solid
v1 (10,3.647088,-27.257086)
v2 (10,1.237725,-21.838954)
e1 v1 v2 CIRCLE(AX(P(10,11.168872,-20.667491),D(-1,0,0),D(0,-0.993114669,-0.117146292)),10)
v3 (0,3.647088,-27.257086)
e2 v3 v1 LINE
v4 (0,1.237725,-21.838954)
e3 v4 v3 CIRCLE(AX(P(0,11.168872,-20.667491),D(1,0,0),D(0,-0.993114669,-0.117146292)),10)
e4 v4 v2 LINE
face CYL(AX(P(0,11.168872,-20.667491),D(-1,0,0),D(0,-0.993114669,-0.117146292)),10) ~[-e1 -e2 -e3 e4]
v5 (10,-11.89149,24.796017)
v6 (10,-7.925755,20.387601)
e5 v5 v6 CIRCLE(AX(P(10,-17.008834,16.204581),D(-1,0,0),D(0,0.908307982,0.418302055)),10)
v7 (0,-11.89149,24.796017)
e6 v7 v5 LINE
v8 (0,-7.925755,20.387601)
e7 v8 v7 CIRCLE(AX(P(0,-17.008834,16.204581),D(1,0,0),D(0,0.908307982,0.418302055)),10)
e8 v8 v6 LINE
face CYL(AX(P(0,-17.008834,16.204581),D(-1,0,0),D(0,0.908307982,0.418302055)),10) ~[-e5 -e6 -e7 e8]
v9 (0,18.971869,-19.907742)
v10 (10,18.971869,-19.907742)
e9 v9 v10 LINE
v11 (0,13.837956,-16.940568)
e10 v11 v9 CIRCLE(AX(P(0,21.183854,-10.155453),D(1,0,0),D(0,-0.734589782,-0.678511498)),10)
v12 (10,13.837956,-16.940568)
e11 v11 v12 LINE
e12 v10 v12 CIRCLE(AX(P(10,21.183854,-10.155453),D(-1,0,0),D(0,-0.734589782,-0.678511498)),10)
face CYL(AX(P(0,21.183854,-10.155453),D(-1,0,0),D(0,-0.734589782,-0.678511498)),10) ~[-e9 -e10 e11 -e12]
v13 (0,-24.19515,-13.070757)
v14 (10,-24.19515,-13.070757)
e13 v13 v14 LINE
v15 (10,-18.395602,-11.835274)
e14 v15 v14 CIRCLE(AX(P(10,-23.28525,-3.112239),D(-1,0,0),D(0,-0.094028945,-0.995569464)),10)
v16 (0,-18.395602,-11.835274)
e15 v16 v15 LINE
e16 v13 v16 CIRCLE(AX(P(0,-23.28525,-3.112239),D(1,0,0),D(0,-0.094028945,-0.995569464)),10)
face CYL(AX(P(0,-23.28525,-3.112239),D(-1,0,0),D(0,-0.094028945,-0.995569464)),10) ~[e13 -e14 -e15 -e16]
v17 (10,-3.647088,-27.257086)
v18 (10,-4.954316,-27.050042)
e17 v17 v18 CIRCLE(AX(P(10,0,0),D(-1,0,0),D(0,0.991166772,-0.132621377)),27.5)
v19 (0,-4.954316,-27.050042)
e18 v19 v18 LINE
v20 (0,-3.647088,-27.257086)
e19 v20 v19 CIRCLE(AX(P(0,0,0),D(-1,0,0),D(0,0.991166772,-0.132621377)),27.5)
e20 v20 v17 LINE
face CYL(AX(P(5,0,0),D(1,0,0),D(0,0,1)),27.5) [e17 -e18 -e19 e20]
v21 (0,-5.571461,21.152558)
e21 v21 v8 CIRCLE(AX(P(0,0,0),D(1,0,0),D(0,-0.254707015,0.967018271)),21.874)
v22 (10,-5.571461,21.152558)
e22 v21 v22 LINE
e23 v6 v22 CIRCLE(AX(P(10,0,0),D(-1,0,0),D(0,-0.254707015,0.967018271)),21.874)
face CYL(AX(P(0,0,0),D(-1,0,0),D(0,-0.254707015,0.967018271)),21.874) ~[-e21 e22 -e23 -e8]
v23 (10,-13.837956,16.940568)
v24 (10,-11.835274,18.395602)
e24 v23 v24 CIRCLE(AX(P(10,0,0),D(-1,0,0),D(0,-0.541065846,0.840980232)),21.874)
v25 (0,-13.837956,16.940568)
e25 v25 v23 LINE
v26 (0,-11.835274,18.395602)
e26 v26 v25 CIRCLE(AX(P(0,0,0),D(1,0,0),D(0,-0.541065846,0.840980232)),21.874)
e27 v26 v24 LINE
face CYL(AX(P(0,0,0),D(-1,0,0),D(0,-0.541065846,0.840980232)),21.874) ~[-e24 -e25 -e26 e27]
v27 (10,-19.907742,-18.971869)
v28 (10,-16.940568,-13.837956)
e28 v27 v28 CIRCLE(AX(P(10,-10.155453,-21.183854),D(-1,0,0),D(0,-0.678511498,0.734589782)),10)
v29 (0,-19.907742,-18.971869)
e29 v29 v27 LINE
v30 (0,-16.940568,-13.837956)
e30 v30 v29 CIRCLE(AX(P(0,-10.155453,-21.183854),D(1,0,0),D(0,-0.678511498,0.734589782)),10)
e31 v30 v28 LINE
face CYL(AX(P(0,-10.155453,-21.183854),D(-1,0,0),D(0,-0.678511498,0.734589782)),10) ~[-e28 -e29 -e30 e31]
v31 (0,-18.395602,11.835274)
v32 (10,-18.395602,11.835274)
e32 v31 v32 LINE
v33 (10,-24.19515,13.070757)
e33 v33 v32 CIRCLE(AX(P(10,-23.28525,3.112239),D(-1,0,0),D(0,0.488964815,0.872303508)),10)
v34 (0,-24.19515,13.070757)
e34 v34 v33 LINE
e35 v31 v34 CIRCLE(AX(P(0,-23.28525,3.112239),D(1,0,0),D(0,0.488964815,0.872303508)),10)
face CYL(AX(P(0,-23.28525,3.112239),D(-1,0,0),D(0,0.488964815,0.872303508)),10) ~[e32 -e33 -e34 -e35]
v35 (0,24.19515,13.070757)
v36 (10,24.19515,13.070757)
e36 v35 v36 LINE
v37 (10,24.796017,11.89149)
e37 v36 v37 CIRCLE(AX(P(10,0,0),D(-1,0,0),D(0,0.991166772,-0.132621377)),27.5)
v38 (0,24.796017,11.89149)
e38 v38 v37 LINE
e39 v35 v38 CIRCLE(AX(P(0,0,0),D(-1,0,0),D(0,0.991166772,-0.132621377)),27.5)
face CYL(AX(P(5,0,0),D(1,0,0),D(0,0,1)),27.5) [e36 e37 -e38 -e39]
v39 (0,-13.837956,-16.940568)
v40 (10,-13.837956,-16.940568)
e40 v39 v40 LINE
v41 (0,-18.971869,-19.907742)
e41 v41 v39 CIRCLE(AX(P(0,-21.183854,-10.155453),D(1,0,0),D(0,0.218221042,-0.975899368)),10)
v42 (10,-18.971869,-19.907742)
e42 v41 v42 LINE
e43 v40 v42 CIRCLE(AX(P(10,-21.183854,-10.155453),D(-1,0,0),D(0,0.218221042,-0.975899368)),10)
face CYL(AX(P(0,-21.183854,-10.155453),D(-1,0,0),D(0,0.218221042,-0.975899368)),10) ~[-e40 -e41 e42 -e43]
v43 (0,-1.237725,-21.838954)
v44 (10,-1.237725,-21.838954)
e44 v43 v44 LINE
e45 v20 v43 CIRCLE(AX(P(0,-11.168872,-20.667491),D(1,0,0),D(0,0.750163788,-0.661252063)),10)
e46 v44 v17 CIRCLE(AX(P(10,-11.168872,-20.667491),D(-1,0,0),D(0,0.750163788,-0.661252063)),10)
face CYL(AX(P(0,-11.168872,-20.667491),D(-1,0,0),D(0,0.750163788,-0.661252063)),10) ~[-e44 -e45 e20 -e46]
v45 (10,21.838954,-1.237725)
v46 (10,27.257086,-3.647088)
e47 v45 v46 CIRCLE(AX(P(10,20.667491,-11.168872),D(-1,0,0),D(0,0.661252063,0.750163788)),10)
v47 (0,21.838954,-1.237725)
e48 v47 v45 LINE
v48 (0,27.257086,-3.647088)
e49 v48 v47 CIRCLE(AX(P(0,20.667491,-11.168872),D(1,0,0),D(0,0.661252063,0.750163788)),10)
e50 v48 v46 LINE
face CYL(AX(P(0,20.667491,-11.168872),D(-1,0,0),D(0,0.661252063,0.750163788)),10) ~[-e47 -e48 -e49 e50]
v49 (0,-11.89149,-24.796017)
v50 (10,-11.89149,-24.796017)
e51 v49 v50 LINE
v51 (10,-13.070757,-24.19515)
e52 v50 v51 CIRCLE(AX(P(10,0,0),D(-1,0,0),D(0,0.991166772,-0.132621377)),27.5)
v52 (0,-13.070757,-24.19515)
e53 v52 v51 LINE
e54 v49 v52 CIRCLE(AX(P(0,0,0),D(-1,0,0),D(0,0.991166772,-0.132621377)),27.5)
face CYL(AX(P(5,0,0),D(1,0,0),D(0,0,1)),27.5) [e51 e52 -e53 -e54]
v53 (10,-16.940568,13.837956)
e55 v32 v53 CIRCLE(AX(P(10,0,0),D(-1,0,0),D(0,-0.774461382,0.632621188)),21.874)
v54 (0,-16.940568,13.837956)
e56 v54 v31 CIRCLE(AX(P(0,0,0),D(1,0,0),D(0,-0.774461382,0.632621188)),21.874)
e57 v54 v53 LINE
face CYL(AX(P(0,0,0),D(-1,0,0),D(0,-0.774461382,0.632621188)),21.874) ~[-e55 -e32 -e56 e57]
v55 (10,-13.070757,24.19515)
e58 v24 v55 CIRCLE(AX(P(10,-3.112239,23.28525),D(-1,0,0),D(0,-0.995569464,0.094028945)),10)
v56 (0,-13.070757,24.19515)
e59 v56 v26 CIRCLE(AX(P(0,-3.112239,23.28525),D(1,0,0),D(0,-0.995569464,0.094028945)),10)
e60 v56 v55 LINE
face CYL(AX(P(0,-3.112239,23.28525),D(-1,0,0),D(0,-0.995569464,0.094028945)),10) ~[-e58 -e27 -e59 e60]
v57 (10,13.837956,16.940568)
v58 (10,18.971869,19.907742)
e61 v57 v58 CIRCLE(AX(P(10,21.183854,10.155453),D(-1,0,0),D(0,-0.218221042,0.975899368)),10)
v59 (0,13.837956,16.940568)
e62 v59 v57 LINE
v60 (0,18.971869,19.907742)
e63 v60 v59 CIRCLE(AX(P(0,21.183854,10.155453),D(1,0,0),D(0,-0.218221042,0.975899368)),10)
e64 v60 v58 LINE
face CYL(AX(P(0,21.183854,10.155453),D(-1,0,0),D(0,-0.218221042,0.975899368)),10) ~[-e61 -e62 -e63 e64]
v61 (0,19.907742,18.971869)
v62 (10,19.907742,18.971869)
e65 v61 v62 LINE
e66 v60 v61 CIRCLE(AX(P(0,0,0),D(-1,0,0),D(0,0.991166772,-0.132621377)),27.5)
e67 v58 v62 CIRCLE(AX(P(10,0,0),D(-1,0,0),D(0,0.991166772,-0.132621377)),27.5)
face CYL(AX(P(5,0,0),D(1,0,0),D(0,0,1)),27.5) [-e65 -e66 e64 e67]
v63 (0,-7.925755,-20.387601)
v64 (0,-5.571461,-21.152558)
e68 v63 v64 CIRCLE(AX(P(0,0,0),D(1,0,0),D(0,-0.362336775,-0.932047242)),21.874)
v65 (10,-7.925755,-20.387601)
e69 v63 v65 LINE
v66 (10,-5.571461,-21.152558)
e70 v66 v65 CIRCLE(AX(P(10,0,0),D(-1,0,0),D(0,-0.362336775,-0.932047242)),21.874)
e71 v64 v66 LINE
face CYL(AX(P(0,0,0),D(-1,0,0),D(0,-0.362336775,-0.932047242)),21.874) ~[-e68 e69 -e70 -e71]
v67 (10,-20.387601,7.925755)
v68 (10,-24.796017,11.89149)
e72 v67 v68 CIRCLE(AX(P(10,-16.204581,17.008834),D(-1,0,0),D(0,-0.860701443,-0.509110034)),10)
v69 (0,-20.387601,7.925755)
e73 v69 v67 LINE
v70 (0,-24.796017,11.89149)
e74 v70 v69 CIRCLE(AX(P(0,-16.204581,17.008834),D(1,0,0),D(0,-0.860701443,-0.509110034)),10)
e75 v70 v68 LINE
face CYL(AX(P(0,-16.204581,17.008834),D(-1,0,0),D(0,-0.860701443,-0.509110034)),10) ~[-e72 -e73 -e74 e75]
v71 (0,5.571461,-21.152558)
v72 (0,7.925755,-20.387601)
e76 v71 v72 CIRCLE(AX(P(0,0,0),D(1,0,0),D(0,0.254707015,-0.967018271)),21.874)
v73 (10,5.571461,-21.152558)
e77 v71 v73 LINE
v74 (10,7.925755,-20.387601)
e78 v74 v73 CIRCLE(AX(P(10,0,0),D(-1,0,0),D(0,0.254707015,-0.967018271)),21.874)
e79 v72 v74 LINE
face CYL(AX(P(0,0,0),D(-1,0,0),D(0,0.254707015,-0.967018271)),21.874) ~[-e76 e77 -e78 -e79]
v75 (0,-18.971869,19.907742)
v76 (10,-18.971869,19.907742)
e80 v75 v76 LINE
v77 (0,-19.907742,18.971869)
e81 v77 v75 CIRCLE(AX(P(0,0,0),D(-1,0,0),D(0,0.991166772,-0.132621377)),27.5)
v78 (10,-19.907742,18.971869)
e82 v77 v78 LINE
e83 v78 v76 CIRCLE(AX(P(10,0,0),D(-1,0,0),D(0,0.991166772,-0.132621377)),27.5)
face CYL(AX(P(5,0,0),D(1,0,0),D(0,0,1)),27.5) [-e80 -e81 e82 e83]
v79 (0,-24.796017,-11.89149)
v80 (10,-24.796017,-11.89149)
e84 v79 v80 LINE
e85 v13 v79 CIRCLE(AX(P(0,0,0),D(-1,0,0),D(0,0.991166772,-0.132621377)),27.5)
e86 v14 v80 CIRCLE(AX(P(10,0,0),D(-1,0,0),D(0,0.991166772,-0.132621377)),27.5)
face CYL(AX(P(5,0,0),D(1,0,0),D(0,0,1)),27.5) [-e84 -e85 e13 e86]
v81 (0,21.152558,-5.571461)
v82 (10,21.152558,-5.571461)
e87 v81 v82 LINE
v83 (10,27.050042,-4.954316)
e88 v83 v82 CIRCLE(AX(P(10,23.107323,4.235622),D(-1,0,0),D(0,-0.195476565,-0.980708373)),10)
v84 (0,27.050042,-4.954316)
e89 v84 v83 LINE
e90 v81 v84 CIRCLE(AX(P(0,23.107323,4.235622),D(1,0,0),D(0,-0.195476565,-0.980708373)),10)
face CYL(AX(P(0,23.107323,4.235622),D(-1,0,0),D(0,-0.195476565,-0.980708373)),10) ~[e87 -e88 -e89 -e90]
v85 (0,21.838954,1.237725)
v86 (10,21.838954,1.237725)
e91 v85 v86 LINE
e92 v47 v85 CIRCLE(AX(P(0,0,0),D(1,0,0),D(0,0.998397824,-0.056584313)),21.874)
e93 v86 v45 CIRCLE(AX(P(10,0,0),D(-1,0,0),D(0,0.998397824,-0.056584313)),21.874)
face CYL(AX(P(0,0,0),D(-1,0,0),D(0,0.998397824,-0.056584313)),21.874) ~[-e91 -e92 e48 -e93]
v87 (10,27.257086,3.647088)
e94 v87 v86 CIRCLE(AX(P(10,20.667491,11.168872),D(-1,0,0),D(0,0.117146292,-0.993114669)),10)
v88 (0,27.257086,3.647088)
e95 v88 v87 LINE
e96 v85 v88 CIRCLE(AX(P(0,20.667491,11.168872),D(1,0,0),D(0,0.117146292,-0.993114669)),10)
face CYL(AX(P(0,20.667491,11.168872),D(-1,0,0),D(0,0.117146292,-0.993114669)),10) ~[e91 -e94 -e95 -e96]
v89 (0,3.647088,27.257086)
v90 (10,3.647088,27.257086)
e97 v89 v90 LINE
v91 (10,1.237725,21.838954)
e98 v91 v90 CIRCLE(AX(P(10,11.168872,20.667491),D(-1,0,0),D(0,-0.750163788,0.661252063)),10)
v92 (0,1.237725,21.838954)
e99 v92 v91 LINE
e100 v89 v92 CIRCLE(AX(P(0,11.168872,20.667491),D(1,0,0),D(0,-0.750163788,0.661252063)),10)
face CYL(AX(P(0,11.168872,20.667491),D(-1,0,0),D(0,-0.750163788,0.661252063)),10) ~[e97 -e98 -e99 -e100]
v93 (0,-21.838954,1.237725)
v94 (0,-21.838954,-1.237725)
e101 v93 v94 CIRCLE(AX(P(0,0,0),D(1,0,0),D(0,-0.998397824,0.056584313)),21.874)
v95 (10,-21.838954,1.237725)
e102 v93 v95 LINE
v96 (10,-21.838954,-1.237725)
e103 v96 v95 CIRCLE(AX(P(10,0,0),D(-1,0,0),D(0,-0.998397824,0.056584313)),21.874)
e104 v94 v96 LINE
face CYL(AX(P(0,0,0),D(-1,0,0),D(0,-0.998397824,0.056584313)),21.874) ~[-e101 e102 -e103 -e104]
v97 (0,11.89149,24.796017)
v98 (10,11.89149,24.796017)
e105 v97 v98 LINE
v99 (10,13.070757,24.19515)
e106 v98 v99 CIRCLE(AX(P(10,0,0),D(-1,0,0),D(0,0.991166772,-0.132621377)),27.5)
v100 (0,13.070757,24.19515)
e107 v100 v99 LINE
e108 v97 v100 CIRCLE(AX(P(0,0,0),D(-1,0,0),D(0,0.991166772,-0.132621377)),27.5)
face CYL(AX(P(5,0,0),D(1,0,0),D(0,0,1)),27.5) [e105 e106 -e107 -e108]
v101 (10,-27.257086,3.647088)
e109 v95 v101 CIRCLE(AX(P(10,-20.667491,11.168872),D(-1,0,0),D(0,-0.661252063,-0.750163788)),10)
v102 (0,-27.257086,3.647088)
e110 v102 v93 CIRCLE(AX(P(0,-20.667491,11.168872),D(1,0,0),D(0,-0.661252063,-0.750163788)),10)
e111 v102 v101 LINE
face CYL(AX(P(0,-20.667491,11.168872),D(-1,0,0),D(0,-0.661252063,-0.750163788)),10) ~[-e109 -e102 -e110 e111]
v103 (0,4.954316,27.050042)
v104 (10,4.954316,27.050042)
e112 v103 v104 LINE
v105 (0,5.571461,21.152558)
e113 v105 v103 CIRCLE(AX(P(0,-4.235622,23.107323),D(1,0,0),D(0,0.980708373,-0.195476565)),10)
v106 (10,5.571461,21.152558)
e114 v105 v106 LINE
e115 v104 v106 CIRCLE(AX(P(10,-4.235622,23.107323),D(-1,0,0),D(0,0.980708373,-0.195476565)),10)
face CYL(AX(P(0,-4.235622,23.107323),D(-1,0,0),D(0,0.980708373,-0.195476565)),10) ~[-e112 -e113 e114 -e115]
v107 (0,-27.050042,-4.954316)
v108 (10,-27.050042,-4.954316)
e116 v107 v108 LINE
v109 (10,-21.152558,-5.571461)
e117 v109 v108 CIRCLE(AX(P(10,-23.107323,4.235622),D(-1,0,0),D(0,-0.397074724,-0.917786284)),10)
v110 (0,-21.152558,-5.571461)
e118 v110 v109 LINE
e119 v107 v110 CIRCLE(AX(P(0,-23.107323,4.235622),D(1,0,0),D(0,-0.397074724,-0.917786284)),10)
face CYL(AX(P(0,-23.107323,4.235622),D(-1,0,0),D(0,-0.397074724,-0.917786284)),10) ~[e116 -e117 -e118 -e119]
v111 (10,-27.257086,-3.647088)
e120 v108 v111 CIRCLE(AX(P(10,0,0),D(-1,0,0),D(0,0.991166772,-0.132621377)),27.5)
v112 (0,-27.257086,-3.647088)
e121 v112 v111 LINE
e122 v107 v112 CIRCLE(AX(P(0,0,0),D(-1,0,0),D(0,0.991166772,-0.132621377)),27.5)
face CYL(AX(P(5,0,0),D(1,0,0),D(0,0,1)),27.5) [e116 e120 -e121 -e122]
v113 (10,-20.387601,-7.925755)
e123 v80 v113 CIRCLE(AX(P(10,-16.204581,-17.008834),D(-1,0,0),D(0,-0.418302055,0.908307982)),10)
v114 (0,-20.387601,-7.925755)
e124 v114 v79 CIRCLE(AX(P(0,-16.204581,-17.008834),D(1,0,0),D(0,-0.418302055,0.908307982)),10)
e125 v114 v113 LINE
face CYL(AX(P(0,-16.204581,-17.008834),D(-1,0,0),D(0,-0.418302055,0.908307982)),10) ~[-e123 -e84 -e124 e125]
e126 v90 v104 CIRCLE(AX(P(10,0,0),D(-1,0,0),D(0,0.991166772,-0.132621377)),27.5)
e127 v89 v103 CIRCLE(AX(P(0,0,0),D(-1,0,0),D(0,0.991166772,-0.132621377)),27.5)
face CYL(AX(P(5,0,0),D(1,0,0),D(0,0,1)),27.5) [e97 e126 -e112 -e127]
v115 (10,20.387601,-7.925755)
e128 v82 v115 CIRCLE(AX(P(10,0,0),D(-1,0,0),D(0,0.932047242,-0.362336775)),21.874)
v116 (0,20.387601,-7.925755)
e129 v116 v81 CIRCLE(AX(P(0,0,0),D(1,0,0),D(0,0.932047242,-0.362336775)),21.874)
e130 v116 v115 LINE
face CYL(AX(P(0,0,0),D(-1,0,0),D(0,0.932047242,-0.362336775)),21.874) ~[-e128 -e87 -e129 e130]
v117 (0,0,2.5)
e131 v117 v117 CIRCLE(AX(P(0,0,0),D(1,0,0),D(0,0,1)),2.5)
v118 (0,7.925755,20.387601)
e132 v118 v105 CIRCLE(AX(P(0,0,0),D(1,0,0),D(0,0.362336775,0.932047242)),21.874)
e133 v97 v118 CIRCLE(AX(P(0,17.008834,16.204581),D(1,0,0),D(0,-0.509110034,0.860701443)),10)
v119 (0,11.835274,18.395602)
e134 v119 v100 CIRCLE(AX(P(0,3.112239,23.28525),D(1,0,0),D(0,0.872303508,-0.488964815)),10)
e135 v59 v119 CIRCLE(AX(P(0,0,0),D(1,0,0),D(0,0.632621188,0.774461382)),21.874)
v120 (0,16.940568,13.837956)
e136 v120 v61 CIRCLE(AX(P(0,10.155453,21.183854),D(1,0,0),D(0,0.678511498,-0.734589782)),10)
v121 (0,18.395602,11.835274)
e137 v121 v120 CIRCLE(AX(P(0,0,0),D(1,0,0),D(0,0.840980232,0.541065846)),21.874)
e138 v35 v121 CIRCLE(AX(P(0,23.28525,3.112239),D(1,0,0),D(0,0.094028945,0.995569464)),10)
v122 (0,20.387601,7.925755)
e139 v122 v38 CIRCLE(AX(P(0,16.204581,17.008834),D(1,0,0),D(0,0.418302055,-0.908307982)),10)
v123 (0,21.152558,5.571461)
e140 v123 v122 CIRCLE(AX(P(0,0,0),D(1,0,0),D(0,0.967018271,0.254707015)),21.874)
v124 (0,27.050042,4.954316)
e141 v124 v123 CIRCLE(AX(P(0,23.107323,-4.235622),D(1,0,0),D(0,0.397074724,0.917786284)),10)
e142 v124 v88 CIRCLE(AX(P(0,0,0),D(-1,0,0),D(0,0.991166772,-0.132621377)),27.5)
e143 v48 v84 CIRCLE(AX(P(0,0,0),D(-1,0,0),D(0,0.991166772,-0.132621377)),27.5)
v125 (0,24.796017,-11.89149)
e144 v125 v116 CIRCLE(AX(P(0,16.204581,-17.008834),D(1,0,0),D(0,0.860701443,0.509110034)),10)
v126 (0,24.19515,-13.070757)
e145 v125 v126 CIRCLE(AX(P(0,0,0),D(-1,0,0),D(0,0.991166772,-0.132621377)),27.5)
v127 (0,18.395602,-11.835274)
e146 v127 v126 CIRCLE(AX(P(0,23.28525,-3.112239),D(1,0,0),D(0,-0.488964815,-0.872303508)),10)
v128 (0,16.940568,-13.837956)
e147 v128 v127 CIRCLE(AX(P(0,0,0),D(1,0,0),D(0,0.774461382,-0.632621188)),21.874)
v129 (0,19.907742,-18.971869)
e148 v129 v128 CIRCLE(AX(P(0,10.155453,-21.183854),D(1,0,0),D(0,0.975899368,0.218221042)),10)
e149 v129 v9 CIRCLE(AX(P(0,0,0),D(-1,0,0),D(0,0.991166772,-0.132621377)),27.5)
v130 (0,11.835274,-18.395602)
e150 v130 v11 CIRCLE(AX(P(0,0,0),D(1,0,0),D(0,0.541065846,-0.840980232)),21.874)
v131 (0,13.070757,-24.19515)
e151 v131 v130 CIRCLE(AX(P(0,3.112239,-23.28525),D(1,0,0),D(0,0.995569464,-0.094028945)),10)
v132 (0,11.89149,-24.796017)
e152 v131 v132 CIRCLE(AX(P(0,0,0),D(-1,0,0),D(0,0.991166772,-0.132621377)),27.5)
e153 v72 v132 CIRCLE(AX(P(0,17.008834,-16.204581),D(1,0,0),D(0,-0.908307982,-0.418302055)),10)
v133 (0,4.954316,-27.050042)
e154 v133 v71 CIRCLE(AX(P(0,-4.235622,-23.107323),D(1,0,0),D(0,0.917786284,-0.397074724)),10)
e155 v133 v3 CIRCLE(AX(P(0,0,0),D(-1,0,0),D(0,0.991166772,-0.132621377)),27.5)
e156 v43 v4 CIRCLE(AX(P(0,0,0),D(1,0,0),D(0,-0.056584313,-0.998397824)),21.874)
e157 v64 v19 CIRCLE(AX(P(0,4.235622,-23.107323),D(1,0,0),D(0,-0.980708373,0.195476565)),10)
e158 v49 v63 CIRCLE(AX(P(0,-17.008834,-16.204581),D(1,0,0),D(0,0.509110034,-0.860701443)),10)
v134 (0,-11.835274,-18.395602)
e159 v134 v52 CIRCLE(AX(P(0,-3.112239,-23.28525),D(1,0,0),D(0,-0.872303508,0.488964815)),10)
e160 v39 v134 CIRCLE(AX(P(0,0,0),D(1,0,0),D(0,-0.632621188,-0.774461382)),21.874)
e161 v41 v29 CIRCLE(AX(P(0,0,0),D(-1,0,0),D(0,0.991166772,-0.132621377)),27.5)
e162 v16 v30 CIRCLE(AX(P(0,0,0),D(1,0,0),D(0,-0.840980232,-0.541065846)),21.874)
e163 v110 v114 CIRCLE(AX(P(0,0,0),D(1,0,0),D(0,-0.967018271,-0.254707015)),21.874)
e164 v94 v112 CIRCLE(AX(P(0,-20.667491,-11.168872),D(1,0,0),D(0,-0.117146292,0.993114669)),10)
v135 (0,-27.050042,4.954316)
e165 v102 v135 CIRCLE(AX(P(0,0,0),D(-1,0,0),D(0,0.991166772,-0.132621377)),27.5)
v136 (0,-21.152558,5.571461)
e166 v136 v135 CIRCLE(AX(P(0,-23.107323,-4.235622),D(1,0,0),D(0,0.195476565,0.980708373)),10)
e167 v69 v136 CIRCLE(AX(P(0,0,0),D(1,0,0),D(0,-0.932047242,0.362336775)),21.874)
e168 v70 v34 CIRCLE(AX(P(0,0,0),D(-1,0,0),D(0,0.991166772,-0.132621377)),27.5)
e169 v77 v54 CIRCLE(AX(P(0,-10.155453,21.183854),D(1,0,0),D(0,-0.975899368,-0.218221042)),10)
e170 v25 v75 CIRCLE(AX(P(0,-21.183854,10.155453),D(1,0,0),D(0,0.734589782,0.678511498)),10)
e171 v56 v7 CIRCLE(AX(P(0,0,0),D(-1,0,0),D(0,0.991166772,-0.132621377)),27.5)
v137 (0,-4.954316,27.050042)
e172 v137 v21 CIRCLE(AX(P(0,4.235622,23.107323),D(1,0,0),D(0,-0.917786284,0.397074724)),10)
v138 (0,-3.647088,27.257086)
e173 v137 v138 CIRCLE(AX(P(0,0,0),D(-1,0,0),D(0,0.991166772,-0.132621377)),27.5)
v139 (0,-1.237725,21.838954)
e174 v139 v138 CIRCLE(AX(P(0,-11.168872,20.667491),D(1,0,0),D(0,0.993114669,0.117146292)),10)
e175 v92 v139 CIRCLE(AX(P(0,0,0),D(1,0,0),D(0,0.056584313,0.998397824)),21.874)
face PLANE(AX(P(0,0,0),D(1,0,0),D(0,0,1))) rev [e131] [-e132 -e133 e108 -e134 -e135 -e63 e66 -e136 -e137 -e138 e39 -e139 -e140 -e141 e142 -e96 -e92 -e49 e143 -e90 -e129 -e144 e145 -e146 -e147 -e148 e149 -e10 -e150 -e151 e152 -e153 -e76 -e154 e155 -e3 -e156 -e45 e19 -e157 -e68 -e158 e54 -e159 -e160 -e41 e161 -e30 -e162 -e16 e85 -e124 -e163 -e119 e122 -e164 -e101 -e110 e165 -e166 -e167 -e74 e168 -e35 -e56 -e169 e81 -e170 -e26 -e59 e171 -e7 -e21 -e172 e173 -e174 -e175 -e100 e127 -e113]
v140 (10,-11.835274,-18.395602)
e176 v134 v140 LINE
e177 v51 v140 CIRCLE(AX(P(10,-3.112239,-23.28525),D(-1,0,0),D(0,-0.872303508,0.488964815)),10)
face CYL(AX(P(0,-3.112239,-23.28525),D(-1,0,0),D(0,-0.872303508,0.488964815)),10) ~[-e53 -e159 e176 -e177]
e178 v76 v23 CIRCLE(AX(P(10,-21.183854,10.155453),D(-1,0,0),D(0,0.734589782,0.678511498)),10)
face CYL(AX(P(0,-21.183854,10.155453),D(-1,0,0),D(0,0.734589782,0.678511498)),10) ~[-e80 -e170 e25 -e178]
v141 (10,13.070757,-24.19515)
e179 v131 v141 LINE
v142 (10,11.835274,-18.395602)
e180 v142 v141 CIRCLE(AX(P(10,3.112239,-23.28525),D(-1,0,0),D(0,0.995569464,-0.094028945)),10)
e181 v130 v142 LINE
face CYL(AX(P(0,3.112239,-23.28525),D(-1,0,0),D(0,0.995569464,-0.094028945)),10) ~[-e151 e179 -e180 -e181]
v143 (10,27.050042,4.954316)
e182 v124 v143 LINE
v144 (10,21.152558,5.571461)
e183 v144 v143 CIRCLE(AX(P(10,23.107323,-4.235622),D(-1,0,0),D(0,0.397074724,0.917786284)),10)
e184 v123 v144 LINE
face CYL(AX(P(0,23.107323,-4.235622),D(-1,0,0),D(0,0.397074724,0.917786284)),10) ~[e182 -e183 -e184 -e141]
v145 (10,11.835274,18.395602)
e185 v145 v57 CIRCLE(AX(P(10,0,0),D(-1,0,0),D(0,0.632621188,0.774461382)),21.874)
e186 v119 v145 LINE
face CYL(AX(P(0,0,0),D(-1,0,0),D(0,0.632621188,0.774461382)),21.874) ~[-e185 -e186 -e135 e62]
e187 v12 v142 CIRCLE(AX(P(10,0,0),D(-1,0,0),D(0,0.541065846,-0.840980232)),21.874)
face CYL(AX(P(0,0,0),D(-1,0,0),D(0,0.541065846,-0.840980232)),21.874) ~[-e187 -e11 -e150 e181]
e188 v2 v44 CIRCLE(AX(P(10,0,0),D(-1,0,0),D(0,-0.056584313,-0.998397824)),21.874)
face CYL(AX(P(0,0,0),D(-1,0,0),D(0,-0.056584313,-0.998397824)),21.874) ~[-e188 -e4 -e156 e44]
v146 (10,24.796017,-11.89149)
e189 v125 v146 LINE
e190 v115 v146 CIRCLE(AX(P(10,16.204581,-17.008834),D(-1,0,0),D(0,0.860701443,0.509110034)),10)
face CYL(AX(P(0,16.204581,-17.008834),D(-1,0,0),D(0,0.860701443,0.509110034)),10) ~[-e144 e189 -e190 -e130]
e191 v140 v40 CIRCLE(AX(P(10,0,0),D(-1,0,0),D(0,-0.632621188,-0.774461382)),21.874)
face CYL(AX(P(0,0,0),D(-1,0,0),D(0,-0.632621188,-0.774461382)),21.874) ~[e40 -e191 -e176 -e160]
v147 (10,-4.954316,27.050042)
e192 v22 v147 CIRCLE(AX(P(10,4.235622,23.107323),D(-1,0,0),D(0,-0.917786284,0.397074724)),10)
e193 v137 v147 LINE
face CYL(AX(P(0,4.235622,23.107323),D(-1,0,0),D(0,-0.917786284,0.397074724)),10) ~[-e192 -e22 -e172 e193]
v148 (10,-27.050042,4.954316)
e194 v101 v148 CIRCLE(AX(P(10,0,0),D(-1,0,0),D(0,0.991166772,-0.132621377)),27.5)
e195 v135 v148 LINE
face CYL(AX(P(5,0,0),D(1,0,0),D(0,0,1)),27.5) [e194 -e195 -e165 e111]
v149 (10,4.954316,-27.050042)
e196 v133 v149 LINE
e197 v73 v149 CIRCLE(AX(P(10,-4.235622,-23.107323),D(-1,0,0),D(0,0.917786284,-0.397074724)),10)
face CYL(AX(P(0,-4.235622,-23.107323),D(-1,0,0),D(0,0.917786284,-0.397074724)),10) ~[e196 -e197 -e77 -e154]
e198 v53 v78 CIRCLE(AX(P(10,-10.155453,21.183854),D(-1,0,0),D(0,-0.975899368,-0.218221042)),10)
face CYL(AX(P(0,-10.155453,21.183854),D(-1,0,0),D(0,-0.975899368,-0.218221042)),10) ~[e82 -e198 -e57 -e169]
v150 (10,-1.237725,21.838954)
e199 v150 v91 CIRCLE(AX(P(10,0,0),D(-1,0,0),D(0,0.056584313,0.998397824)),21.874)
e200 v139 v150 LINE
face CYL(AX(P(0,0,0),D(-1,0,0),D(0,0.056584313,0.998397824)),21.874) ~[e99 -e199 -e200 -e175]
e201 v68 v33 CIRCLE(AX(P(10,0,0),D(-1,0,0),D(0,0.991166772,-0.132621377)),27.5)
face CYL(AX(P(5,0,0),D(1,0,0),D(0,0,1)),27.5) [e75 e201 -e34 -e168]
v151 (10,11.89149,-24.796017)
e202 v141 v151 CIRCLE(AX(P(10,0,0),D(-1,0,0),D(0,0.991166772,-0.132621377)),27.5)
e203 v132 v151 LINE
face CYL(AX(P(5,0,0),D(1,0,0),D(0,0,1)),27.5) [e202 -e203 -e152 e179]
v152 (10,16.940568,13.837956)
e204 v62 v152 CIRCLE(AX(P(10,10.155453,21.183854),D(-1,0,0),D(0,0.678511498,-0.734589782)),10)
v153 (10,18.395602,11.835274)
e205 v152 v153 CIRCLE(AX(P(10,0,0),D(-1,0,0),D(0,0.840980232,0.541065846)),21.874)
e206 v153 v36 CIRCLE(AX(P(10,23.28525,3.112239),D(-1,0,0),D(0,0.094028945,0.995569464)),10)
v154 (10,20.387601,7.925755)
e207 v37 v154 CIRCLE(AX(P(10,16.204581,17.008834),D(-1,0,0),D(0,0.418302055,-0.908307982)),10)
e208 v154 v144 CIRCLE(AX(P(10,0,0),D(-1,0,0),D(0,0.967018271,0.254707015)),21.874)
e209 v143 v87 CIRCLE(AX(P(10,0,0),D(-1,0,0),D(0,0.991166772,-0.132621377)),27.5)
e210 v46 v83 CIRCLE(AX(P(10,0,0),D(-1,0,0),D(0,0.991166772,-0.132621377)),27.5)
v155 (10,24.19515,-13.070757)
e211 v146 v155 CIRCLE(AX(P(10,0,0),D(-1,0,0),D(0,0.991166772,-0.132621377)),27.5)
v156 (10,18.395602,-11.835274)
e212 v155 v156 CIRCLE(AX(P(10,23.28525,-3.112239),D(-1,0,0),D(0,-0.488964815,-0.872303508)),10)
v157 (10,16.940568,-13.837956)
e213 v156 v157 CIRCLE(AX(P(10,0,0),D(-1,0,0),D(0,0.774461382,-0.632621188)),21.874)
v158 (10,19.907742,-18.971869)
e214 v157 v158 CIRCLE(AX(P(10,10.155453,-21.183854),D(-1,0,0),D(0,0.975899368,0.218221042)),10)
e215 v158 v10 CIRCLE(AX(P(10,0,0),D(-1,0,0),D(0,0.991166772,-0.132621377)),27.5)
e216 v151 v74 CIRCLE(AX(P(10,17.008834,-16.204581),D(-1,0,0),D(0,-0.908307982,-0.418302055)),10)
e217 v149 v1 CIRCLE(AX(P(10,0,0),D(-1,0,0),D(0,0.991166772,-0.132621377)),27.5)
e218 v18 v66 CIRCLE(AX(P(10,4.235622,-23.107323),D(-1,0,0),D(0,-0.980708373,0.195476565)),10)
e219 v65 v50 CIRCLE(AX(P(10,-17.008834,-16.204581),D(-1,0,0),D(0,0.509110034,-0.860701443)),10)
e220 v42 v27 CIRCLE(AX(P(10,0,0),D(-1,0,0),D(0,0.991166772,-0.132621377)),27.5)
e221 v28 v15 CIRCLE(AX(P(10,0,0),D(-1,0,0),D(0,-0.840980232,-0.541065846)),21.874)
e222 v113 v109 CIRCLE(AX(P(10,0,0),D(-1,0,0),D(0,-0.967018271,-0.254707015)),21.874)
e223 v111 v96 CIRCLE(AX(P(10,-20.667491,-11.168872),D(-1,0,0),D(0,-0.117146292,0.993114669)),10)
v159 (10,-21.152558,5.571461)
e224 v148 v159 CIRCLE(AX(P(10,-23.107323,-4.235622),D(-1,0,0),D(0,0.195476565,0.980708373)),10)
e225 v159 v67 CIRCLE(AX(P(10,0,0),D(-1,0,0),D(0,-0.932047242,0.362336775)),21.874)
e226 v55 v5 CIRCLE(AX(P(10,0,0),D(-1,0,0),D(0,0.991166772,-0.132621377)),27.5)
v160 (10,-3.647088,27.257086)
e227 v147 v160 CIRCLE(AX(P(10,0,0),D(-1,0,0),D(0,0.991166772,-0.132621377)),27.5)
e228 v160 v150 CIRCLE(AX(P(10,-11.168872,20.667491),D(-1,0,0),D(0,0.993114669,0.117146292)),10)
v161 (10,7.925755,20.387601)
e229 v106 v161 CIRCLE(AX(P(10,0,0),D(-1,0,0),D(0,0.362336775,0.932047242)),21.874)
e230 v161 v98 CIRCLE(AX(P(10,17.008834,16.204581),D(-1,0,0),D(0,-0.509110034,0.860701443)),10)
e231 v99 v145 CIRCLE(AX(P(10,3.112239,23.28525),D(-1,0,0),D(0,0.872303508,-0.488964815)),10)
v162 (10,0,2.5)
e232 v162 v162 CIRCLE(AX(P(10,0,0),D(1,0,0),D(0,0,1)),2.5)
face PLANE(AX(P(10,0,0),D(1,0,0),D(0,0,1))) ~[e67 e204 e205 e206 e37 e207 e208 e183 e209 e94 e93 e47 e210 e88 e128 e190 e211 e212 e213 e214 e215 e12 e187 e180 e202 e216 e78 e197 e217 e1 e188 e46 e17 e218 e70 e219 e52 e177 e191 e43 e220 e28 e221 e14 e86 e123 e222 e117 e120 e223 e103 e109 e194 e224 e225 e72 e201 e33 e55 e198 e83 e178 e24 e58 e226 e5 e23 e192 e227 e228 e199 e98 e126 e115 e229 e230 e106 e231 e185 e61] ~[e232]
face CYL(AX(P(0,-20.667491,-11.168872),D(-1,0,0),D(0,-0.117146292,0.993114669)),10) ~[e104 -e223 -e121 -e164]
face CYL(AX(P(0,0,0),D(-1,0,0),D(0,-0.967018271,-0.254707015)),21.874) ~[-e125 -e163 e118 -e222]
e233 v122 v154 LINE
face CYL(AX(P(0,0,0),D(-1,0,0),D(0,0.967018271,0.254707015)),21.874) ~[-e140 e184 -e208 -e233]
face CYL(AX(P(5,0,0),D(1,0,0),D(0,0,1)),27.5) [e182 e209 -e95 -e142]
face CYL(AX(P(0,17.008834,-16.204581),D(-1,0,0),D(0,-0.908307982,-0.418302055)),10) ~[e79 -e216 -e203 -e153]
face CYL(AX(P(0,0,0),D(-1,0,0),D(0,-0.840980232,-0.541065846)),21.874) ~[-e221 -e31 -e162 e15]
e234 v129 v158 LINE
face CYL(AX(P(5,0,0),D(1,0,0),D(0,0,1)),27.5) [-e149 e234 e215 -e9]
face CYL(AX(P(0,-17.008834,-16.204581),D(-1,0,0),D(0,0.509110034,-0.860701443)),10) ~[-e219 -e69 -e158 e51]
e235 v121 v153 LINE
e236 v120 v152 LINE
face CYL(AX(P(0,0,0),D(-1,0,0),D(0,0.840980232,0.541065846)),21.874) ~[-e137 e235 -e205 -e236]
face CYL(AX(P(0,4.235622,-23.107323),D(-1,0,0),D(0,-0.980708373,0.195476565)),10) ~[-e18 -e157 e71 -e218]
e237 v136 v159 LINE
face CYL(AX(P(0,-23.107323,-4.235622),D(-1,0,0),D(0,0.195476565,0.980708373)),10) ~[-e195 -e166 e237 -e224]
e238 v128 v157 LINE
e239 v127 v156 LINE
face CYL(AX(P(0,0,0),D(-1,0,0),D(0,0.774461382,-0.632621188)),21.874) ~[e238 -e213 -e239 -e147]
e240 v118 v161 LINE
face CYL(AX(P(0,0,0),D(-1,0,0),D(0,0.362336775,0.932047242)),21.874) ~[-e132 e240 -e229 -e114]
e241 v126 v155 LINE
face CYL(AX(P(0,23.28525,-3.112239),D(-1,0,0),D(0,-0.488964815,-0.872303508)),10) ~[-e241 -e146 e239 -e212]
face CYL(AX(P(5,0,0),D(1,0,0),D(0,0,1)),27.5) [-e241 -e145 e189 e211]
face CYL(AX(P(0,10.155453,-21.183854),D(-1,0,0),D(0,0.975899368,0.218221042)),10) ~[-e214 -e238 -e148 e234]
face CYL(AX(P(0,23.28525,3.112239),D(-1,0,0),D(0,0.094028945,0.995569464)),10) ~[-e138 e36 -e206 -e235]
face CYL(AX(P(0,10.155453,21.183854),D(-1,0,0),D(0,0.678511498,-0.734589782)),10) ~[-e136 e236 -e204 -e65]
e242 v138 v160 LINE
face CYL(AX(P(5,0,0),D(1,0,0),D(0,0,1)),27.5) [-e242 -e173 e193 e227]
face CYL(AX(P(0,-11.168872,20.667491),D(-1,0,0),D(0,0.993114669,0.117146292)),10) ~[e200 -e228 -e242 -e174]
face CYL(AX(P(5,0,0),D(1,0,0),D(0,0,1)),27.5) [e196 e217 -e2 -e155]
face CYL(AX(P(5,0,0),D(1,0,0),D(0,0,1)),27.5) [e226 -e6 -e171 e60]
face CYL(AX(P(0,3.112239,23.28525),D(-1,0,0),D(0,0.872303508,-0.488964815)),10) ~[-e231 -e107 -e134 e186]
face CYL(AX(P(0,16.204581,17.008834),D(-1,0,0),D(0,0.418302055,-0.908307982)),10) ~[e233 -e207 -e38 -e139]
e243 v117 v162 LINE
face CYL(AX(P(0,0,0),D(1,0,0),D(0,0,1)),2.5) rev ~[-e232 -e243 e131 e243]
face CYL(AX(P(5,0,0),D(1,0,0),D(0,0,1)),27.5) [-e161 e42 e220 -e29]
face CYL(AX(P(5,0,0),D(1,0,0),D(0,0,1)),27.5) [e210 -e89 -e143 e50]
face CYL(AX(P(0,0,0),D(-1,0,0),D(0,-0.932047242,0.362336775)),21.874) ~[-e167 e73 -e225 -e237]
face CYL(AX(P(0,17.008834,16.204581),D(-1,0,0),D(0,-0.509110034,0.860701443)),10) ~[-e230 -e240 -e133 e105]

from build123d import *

# Parameters (mm, degrees)
BASPROSKE_W     = 10
BASPROSKE_H     = 27.5
TOOTHCUT_DEPTH  = 41.155946011
TEETHCUTS_COUNT = 20
TEETHCUTS_ANGLE = 342
BORSKE_R        = 2.5
BORE_DEPTH      = 50.0000508


with BuildPart() as part:
    # BasProSke → Base-Revolve (revolve)
    with BuildSketch(Plane(origin=(0, 0, 0), x_dir=(1, 0, 0), z_dir=(0, 1, 0)), mode=Mode.PRIVATE) as base_revolve_sk:
        with Locations((5, 13.75)):
            Rectangle(BASPROSKE_W, BASPROSKE_H)
    revolve(base_revolve_sk.sketch.rotate(Axis((-10, 0, 0), (1, 0, 0)), 180), axis=Axis((-10, 0, 0), (1, 0, 0)))

    # TooCutSke → ToothCut (cut, through all)
    with BuildSketch(Plane(origin=(0, 0, 0), x_dir=(0, 0, -1), z_dir=(1, 0, 0))):
        with BuildLine():
            ThreePointArc((1.237725267, 21.838954008), (0, 21.874), (-1.237725267, 21.838954008))
            ThreePointArc((-1.237725267, 21.838954008), (-2.037783758, 24.744650423), (-3.667234079, 27.280011719))
            ThreePointArc((-3.667234079, 27.280011719), (0, 27.5254), (3.667234079, 27.280011719))
            ThreePointArc((3.667234079, 27.280011719), (2.037783758, 24.744650423), (1.237725267, 21.838954008))
        make_face()
    toothcut = extrude(amount=TOOTHCUT_DEPTH, mode=Mode.SUBTRACT)

    # TeethCuts: ToothCut ×20 about axis
    teethcuts_axis = Axis((-10, 0, 0), (1, 0, 0))
    for i in range(1, TEETHCUTS_COUNT):
        add(toothcut.rotate(teethcuts_axis, i * TEETHCUTS_ANGLE / (TEETHCUTS_COUNT - 1)), mode=Mode.SUBTRACT)

    # BorSke → Bore (cut, symmetric)
    with BuildSketch(Plane(origin=(0, 0, 0), x_dir=(0, 0, -1), z_dir=(1, 0, 0))):
        with Locations(Location((0, 0, 0), (0, 0, 180))):
            Circle(BORSKE_R)
    extrude(amount=BORE_DEPTH, both=True, mode=Mode.SUBTRACT)


solid = part.part
